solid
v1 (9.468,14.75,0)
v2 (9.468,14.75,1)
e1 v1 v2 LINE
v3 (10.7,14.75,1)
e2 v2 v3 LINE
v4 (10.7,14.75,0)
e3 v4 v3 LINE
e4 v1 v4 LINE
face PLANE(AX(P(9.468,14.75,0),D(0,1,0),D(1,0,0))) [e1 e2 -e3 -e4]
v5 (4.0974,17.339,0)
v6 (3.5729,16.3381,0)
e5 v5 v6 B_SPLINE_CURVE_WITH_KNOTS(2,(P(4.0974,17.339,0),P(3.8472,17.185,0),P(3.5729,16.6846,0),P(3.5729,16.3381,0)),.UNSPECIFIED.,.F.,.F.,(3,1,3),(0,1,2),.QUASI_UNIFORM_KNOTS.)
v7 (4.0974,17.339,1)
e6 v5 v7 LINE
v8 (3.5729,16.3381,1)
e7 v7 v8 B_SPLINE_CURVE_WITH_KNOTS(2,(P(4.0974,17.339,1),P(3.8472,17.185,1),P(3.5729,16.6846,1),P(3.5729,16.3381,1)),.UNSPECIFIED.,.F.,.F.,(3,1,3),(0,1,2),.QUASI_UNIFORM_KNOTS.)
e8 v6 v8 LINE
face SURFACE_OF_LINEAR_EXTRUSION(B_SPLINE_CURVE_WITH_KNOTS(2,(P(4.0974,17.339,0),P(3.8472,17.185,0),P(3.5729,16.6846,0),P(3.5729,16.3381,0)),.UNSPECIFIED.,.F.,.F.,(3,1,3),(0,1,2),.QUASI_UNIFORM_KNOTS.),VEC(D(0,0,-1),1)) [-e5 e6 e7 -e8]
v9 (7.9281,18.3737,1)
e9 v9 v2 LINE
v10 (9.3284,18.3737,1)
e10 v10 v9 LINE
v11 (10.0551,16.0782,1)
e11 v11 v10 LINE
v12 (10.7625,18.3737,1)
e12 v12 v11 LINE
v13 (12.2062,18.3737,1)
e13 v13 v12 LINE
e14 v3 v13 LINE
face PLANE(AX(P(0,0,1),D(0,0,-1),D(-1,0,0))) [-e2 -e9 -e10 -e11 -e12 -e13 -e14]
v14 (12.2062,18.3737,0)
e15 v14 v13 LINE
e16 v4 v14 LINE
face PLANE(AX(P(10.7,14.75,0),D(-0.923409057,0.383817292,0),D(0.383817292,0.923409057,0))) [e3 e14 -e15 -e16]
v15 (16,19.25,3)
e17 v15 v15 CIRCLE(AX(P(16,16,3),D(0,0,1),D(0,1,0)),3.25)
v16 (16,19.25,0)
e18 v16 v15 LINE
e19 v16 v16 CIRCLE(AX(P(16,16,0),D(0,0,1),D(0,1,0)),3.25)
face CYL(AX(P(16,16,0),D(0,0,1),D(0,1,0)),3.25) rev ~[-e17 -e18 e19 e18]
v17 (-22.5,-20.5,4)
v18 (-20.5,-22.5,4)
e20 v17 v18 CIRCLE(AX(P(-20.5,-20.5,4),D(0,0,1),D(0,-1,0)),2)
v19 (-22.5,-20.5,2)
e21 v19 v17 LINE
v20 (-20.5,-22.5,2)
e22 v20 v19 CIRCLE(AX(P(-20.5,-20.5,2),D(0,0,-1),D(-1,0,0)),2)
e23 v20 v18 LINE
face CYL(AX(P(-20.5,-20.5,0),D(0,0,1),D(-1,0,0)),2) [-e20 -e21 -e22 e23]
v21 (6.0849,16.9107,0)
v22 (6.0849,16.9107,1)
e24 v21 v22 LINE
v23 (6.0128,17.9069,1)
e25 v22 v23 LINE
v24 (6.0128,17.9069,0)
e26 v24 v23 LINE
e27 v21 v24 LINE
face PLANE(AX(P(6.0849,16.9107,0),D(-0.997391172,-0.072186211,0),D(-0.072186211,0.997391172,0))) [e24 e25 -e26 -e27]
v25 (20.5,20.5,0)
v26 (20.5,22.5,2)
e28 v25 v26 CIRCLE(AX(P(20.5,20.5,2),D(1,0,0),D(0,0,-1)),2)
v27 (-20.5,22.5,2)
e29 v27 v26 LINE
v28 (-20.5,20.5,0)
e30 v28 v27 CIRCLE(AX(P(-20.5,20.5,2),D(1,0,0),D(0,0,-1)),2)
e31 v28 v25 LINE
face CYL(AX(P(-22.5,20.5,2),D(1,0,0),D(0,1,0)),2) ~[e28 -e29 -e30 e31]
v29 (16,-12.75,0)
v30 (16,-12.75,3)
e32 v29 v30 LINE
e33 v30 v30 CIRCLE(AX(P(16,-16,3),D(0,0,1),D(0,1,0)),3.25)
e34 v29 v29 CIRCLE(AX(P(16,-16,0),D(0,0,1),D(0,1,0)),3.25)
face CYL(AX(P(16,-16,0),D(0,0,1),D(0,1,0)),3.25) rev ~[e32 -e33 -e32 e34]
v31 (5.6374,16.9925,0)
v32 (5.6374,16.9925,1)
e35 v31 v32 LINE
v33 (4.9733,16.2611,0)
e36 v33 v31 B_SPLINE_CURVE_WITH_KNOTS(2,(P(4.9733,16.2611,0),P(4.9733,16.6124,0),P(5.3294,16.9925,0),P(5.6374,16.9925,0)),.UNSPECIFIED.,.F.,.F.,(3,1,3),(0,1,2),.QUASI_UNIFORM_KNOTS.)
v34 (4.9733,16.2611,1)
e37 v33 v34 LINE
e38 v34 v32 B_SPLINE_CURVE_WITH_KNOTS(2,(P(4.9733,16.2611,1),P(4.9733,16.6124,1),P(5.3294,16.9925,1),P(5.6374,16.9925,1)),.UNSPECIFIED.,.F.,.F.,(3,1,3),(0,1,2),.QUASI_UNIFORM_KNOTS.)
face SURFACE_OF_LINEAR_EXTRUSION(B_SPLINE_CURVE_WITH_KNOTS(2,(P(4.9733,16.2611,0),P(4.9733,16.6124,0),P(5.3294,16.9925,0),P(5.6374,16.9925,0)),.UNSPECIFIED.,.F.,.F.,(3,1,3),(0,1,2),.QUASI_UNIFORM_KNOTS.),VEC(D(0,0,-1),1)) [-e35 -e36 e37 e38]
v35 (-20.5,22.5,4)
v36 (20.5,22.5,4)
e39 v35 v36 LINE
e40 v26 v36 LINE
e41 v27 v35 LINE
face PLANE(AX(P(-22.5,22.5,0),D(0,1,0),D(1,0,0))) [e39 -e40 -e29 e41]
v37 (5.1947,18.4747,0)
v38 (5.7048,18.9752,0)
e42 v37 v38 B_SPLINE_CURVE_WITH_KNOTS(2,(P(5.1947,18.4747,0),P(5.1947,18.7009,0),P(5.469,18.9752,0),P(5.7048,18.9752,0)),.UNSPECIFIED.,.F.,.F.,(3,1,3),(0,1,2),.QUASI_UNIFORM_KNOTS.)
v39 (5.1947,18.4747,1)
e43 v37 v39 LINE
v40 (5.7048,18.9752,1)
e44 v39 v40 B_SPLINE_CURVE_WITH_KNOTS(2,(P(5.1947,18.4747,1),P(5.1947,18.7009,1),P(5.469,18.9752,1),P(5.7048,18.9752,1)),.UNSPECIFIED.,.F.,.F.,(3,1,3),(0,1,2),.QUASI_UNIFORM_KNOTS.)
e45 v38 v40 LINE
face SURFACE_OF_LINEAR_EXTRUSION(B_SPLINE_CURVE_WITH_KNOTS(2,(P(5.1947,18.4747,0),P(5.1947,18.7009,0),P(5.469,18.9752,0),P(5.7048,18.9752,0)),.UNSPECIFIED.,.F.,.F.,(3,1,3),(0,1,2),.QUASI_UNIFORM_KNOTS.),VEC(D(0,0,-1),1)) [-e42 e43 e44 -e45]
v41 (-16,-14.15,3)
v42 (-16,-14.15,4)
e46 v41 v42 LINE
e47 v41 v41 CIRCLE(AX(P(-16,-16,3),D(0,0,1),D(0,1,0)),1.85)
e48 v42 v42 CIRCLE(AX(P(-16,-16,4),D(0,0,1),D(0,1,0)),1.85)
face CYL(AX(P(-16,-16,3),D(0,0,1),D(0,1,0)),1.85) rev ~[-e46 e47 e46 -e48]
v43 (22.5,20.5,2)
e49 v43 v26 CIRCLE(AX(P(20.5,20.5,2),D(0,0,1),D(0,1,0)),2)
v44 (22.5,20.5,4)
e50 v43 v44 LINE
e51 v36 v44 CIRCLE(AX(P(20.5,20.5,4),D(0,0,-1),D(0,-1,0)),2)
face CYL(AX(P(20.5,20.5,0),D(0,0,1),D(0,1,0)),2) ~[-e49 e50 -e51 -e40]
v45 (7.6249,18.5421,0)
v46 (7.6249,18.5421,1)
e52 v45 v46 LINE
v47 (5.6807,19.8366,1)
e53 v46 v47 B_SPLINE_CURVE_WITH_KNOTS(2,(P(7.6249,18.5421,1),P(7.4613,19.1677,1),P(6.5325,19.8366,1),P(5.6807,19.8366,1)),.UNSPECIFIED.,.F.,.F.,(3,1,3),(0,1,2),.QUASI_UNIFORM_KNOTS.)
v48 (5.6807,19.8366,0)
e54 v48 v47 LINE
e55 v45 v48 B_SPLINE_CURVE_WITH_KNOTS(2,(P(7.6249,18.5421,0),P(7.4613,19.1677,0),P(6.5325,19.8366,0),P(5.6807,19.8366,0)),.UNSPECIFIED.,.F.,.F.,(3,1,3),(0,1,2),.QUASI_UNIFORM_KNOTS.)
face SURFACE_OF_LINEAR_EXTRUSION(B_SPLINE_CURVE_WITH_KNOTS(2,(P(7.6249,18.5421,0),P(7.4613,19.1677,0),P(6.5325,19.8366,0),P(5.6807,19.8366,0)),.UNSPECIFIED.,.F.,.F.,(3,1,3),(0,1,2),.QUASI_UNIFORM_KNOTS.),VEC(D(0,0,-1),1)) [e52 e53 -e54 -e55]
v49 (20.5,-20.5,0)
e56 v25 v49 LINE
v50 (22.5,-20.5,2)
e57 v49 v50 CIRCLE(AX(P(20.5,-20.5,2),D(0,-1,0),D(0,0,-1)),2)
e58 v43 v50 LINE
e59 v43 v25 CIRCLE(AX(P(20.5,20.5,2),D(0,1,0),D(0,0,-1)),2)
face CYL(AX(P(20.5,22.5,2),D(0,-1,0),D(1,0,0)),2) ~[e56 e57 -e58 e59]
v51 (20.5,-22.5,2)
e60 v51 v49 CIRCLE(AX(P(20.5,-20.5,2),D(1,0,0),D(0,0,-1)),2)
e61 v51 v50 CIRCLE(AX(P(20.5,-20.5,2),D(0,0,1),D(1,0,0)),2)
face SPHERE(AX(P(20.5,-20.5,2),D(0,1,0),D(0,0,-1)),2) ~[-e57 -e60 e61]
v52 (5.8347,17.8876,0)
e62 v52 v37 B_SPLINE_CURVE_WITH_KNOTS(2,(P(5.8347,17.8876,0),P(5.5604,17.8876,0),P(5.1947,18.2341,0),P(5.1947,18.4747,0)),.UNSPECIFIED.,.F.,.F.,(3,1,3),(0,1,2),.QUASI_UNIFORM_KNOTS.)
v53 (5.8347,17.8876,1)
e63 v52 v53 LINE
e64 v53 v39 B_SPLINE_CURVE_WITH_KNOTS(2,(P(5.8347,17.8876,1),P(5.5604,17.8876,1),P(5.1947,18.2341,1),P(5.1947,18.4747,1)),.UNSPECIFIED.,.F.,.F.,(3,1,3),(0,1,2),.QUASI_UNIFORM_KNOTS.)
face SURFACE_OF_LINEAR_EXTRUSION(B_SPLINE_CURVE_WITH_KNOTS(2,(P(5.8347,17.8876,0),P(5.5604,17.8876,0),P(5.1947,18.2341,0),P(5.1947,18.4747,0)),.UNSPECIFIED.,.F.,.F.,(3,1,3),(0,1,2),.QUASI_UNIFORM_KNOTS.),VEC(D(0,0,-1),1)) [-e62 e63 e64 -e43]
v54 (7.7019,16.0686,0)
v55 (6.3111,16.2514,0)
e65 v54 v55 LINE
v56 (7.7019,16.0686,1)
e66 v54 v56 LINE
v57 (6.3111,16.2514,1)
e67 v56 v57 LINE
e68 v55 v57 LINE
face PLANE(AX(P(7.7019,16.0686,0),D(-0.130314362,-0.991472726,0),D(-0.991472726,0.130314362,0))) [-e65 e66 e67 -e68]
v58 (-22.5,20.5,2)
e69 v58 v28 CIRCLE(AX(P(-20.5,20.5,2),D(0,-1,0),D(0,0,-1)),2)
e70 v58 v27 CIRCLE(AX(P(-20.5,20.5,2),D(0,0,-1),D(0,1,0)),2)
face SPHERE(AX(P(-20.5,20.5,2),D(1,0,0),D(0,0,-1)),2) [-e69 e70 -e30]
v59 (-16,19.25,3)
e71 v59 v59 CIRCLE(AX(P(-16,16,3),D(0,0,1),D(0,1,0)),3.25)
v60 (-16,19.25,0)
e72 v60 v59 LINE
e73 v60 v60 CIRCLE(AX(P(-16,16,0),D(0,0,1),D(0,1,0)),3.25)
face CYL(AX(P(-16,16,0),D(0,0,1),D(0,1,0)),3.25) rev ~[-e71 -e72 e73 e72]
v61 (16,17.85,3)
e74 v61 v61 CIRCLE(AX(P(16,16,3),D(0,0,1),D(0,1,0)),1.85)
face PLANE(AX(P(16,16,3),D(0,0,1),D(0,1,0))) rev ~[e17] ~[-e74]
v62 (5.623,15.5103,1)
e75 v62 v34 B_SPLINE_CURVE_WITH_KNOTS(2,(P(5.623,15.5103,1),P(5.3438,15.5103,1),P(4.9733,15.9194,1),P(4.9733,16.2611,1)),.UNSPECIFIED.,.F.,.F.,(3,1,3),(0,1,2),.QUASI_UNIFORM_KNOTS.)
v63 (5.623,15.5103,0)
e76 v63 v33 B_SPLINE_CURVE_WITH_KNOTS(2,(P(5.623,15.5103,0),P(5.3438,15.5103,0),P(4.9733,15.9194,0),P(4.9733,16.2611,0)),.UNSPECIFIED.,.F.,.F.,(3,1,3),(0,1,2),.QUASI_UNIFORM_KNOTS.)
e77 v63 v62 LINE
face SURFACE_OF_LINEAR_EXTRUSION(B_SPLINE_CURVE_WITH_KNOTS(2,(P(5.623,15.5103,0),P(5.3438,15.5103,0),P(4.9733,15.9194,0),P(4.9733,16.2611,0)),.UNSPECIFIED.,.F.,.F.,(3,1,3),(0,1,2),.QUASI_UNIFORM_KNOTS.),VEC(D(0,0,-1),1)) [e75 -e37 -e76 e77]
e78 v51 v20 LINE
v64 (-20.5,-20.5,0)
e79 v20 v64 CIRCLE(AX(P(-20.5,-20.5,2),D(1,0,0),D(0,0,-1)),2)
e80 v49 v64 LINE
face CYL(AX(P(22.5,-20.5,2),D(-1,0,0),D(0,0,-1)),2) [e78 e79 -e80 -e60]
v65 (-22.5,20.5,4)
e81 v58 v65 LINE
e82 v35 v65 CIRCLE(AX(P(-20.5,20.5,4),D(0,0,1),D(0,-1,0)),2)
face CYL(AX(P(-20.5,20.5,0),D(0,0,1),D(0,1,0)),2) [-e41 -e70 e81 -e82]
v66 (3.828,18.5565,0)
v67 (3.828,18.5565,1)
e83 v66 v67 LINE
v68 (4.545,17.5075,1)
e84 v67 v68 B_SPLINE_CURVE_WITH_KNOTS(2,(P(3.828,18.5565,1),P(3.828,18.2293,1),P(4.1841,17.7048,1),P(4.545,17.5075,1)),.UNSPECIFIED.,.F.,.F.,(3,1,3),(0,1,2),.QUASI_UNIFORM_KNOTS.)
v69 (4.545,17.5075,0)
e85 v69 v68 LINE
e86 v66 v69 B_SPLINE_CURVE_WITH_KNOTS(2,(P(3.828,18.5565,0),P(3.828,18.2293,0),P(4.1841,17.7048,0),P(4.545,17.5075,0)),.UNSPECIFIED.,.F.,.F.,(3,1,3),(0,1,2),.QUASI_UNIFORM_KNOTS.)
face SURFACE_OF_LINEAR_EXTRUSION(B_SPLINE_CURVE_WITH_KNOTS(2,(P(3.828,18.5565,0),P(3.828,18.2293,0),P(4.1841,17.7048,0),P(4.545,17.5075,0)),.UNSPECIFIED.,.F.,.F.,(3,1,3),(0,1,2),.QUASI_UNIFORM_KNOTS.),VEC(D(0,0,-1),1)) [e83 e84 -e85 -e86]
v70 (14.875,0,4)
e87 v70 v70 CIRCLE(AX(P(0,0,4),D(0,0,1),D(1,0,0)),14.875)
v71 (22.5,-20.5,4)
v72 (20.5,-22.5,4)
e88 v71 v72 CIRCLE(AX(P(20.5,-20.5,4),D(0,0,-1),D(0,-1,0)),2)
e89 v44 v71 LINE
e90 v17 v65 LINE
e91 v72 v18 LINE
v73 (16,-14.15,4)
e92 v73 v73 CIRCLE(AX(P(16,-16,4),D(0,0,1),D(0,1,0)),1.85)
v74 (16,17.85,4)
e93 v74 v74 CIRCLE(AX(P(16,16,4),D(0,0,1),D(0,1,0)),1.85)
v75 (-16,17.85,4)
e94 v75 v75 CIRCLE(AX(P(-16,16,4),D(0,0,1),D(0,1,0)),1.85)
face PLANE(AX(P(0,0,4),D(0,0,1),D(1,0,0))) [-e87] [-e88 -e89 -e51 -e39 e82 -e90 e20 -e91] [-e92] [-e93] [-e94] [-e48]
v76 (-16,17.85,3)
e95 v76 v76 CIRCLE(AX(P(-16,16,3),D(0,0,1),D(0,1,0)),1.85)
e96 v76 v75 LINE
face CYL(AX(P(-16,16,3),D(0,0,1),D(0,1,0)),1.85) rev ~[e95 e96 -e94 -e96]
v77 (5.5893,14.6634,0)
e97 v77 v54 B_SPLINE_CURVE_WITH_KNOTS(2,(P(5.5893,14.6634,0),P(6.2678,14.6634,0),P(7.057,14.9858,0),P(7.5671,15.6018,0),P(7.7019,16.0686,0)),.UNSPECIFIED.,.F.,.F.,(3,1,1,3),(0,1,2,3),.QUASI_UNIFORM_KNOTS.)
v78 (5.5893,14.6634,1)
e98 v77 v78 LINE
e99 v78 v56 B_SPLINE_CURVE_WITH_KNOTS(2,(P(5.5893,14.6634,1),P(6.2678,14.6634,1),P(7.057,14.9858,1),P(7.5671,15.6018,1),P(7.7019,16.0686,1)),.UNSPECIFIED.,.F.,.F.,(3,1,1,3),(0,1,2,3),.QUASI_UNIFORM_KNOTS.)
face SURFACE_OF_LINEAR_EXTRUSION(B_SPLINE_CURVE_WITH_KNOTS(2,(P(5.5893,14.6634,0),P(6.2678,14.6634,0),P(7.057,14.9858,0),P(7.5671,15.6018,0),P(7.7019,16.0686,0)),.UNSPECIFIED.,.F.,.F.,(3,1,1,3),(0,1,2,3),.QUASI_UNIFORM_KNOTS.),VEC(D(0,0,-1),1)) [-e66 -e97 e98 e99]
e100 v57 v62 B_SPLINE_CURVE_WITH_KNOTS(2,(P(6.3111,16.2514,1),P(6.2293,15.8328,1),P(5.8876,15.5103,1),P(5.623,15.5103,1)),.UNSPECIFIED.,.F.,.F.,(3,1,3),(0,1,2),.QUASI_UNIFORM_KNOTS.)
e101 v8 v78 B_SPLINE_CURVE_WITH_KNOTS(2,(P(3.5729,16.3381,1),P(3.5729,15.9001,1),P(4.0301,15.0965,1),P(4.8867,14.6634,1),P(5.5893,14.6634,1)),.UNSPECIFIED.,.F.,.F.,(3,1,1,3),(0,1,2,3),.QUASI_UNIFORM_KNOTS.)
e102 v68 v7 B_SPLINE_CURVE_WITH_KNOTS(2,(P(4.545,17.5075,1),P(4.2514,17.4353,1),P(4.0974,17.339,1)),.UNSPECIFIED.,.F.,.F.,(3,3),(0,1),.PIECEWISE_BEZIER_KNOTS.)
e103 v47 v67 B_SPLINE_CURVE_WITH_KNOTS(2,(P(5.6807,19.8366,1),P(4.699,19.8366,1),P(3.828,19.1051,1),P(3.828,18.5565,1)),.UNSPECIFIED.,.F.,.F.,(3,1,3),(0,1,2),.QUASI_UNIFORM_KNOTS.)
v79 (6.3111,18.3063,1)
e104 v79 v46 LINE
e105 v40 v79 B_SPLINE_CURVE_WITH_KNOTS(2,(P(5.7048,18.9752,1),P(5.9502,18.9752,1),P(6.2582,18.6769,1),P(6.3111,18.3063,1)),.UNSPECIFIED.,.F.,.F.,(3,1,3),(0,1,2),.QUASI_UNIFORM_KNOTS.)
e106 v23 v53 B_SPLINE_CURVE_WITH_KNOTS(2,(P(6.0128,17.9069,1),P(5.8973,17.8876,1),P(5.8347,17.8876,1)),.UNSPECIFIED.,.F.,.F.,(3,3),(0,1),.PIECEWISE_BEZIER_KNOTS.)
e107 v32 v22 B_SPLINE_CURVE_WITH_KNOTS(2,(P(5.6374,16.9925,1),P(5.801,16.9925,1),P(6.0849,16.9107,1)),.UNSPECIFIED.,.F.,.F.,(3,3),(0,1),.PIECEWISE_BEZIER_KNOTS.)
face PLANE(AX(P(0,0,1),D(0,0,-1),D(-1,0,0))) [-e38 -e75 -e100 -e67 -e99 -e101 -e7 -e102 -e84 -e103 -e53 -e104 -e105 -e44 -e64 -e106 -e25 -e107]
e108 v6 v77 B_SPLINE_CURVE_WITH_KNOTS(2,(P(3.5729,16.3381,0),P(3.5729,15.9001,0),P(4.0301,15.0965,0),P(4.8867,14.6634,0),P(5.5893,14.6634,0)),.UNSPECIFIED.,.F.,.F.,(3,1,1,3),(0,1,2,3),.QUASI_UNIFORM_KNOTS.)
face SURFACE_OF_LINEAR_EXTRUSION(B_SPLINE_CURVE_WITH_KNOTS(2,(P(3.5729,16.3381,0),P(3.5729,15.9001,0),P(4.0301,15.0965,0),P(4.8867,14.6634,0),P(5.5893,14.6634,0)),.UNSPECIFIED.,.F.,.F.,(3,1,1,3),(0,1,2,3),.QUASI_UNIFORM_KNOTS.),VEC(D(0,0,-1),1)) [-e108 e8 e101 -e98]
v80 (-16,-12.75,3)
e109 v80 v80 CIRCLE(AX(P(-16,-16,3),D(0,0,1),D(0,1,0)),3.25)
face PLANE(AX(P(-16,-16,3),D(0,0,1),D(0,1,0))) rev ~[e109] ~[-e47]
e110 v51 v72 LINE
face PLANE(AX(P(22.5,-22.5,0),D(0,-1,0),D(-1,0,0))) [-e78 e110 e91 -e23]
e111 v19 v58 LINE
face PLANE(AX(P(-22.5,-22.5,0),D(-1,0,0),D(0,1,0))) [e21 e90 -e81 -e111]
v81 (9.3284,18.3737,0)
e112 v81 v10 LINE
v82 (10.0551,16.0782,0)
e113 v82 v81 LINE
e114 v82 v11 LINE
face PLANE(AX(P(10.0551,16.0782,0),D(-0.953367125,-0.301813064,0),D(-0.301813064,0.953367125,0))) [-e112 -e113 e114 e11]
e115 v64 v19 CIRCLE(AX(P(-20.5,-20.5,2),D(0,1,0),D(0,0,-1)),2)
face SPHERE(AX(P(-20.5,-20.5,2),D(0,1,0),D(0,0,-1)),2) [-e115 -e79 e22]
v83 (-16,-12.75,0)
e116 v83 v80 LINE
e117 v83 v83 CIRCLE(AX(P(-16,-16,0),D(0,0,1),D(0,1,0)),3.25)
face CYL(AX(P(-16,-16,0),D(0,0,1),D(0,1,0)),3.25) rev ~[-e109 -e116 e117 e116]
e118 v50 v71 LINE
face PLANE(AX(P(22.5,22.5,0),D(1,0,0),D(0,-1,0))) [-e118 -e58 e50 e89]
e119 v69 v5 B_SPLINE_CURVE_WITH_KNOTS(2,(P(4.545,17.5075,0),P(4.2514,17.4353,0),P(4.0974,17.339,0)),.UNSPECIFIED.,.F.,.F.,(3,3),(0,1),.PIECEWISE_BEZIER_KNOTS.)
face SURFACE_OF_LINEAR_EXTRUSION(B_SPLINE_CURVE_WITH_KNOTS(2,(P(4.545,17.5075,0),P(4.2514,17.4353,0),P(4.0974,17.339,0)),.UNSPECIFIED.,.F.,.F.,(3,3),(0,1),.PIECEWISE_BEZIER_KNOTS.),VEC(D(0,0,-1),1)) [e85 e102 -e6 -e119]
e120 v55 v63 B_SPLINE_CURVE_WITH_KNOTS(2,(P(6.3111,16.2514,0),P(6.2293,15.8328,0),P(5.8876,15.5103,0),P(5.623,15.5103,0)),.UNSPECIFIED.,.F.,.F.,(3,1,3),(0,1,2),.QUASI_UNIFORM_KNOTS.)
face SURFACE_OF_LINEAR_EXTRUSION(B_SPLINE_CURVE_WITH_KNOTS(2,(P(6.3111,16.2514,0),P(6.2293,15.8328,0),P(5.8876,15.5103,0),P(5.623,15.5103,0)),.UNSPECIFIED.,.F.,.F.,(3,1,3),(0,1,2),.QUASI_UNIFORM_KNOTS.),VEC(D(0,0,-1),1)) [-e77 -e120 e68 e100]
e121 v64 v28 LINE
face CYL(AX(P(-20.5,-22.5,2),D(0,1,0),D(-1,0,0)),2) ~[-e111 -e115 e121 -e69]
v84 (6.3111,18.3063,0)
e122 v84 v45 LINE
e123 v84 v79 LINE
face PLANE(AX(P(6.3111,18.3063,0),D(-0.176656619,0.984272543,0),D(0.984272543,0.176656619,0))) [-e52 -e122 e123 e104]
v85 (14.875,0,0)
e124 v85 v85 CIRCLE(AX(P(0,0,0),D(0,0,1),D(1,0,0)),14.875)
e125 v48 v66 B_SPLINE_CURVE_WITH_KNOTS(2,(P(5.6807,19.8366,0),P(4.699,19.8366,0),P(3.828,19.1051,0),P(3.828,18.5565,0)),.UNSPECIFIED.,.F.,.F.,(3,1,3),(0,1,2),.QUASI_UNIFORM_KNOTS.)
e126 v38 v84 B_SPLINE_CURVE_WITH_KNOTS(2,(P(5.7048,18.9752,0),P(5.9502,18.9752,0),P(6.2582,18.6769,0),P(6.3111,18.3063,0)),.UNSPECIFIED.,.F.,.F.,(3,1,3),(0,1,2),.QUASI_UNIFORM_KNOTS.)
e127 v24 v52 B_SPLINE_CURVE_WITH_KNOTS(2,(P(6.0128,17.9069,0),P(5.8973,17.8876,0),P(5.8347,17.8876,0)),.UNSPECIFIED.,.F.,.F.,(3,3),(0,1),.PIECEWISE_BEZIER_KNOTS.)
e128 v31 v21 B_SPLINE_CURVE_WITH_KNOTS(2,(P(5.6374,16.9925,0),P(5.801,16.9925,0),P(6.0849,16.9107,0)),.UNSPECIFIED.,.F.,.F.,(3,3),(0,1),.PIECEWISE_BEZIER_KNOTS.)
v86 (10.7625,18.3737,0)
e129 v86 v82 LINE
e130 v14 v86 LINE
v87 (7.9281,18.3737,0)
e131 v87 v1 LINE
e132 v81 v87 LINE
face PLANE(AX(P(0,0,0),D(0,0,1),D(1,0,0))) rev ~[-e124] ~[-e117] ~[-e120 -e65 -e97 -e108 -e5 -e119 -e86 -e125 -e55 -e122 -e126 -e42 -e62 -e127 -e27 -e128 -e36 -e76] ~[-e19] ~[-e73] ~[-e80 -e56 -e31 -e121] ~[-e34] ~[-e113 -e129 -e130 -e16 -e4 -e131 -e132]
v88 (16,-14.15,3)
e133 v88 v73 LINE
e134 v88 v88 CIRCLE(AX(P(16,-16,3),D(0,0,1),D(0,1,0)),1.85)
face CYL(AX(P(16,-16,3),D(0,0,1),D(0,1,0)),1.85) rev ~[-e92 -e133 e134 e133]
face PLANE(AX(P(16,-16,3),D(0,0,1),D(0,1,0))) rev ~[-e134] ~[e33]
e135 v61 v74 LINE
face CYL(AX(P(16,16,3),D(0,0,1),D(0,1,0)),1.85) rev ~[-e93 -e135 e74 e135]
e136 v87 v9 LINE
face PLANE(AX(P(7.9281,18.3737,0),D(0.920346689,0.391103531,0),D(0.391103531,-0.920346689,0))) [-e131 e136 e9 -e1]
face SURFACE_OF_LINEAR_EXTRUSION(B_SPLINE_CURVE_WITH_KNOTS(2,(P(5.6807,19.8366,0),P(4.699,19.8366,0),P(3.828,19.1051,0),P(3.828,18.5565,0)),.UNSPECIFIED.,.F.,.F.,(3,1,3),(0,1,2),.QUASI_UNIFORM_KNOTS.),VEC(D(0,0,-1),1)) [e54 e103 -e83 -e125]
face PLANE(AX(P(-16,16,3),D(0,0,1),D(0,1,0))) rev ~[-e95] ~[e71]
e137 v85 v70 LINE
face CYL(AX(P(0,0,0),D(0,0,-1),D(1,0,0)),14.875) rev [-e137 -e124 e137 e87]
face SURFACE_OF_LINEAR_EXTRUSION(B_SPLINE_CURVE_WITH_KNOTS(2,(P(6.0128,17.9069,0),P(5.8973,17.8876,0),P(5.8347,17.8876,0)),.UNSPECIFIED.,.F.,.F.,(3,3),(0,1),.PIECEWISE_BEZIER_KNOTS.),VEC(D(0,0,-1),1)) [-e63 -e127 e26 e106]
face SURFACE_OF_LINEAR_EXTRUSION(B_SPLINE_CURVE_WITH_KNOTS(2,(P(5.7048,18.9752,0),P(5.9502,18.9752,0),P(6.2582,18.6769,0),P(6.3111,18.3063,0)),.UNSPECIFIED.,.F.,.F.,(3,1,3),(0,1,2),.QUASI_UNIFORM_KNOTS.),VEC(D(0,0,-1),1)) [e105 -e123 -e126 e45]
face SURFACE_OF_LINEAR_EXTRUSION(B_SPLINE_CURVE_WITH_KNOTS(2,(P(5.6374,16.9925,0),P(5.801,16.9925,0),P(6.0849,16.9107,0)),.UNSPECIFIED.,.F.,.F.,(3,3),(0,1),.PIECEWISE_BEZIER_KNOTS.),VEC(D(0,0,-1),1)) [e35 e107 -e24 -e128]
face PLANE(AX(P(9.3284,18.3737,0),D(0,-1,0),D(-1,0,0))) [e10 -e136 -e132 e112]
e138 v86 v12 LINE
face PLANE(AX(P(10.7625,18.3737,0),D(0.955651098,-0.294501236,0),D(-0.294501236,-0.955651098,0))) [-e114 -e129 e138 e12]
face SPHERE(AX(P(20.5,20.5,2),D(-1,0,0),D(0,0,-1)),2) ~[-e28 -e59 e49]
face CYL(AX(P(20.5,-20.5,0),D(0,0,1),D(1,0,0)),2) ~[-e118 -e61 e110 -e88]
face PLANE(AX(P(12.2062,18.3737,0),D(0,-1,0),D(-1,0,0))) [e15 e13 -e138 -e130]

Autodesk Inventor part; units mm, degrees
ref_plane "YZ Plane" through (0, 0, 0) normal (1, 0, 0) x (0, 1, 0)
ref_plane "XZ Plane" through (0, 0, 0) normal (0, 1, 0) x (-1, 0, 0)
ref_plane "XY Plane" through (0, 0, 0) normal (0, 0, 1) x (1, 0, 0)
sketch "Sketch1: base" plane through (0, 0, 0) normal (0, 0, 1) x (1, 0, 0)
  line L0 (-22.5, 22.5) -> (22.5, 22.5)
  line L1 (22.5, 22.5) -> (22.5, -22.5)
  line L2 (22.5, -22.5) -> (-22.5, -22.5)
  line L3 (-22.5, -22.5) -> (-22.5, 22.5)
  circle A0 centre (0, 0) radius 14.875
  line L4 (-16, 16) -> (16, 16) construction
  line L5 (16, 16) -> (16, -16) construction
  line L6 (16, -16) -> (-16, -16) construction
  line L7 (-16, -16) -> (-16, 16) construction
  circle A1 centre (16, 16) radius 1.8 construction
  circle A2 centre (16, 16) radius 3.25 construction
  point P0 (22.5, 0)
  point P1 (0, 22.5)
  point P2 (0, 16)
  point P3 (-16, 0)
  dimension "d0" = 29.75
  dimension "d1" = 45
  dimension "d4" = 32
  dimension "d19" = 6.5
  dimension "d20" = 3.6
  dimension "d21" = 6.5
extrude "Ex1: base" add sketch "Sketch1: base" along normal blind 4
hole "Hole1: M3 screws" at (-16, 16, 0) at (16, 16, 0) at (-16, -16, 0) at (16, -16, 0) direction (0, 0, 1) diameter 3.7 end through all counterbore diameter 6.5 counterbore depth 3 clearance for "Socket Head Cap Screw" size "M3" standard "Ansi Metric M Profile"
fillet "Fillet1" radius 2 8 edges at (0, 22.5, 0) (22.5, 0, 0) (22.5, 22.5, 2) (-22.5, 0, 0) (0, -22.5, 0) (22.5, -22.5, 2) (-22.5, -22.5, 2) (-22.5, 22.5, 2)
sketch "Sketch2: text" plane through (0, 0, 0) normal (0, 0, -1) x (-1, 0, 0)
  line L0 (-9.5, 19) -> (-6, 19) construction
  line L1 (-6, 19) -> (-6, 15.5) construction
  line L2 (-6, 15.5) -> (-9.5, 15.5) construction
  line L3 (-9.5, 15.5) -> (-9.5, 19) construction
  line L4 (22.5, 22.5) -> (-22.5, 22.5) construction
  line L5 (-22.5, 22.5) -> (-22.5, -22.5) construction
  line L6 (22.5, -22.5) -> (22.5, 22.5) construction
  line L7 (-22.5, -22.5) -> (22.5, -22.5) construction
  circle A0 centre (-16, 16) radius 3.25 construction
  circle A1 centre (-16, 16) radius 1.8 construction
  line L8 (16, 16) -> (-16, 16) construction
  circle A2 centre (0, 0) radius 14.875 construction
  circle A3 centre (0, 0) radius 14.875 construction
  line L9 (-12.2062, 18.3737) -> (-10.7625, 18.3737)
  line L10 (-10.7625, 18.3737) -> (-10.0551, 16.0782)
  line L11 (-10.0551, 16.0782) -> (-9.3284, 18.3737)
  line L12 (-9.3284, 18.3737) -> (-7.9281, 18.3737)
  line L13 (-7.9281, 18.3737) -> (-9.468, 14.75)
  line L14 (-9.468, 14.75) -> (-10.7, 14.75)
  line L15 (-10.7, 14.75) -> (-12.2062, 18.3737)
  line L16 (-6.3111, 18.3063) -> (-7.6249, 18.5421)
  spline S0 degree 2 poles (-7.6249, 18.5421) (-7.4613, 19.1677) (-6.5325, 19.8366) (-5.6807, 19.8366) knots 0 0 0 1 2 2 2
  spline S1 degree 2 poles (-5.6807, 19.8366) (-4.699, 19.8366) (-3.828, 19.1051) (-3.828, 18.5565) knots 0 0 0 1 2 2 2
  spline S2 degree 2 poles (-3.828, 18.5565) (-3.828, 18.2293) (-4.1841, 17.7048) (-4.545, 17.5075) knots 0 0 0 1 2 2 2
  spline S3 degree 2 poles (-4.545, 17.5075) (-4.2514, 17.4353) (-4.0974, 17.339) knots 0 0 0 1 1 1
  spline S4 degree 2 poles (-4.0974, 17.339) (-3.8472, 17.185) (-3.5729, 16.6846) (-3.5729, 16.3381) knots 0 0 0 1 2 2 2
  spline S5 degree 2 poles (-3.5729, 16.3381) (-3.5729, 15.9001) (-4.0301, 15.0965) (-4.8867, 14.6634) (-5.5893, 14.6634) knots 0 0 0 1 2 3 3 3
  spline S6 degree 2 poles (-5.5893, 14.6634) (-6.2678, 14.6634) (-7.057, 14.9858) (-7.5671, 15.6018) (-7.7019, 16.0686) knots 0 0 0 1 2 3 3 3
  line L17 (-7.7019, 16.0686) -> (-6.3111, 16.2514)
  spline S7 degree 2 poles (-6.3111, 16.2514) (-6.2293, 15.8328) (-5.8876, 15.5103) (-5.623, 15.5103) knots 0 0 0 1 2 2 2
  spline S8 degree 2 poles (-5.623, 15.5103) (-5.3438, 15.5103) (-4.9733, 15.9194) (-4.9733, 16.2611) knots 0 0 0 1 2 2 2
  spline S9 degree 2 poles (-4.9733, 16.2611) (-4.9733, 16.6124) (-5.3294, 16.9925) (-5.6374, 16.9925) knots 0 0 0 1 2 2 2
  spline S10 degree 2 poles (-5.6374, 16.9925) (-5.801, 16.9925) (-6.0849, 16.9107) knots 0 0 0 1 1 1
  line L18 (-6.0849, 16.9107) -> (-6.0128, 17.9069)
  spline S11 degree 2 poles (-6.0128, 17.9069) (-5.8973, 17.8876) (-5.8347, 17.8876) knots 0 0 0 1 1 1
  spline S12 degree 2 poles (-5.8347, 17.8876) (-5.5604, 17.8876) (-5.1947, 18.2341) (-5.1947, 18.4747) knots 0 0 0 1 2 2 2
  spline S13 degree 2 poles (-5.1947, 18.4747) (-5.1947, 18.7009) (-5.469, 18.9752) (-5.7048, 18.9752) knots 0 0 0 1 2 2 2
  spline S14 degree 2 poles (-5.7048, 18.9752) (-5.9502, 18.9752) (-6.2582, 18.6769) (-6.3111, 18.3063) knots 0 0 0 1 2 2 2
  point P0 (-7.75, 19)
  point P1 (0, 22.5)
  dimension "d23" = 3.5
  dimension "d24" = 3.5
  dimension "d29" = 13
extrude "Ex3: text" cut sketch "Sketch2: text" against normal blind 1
properties part number "cage_inside_03"
